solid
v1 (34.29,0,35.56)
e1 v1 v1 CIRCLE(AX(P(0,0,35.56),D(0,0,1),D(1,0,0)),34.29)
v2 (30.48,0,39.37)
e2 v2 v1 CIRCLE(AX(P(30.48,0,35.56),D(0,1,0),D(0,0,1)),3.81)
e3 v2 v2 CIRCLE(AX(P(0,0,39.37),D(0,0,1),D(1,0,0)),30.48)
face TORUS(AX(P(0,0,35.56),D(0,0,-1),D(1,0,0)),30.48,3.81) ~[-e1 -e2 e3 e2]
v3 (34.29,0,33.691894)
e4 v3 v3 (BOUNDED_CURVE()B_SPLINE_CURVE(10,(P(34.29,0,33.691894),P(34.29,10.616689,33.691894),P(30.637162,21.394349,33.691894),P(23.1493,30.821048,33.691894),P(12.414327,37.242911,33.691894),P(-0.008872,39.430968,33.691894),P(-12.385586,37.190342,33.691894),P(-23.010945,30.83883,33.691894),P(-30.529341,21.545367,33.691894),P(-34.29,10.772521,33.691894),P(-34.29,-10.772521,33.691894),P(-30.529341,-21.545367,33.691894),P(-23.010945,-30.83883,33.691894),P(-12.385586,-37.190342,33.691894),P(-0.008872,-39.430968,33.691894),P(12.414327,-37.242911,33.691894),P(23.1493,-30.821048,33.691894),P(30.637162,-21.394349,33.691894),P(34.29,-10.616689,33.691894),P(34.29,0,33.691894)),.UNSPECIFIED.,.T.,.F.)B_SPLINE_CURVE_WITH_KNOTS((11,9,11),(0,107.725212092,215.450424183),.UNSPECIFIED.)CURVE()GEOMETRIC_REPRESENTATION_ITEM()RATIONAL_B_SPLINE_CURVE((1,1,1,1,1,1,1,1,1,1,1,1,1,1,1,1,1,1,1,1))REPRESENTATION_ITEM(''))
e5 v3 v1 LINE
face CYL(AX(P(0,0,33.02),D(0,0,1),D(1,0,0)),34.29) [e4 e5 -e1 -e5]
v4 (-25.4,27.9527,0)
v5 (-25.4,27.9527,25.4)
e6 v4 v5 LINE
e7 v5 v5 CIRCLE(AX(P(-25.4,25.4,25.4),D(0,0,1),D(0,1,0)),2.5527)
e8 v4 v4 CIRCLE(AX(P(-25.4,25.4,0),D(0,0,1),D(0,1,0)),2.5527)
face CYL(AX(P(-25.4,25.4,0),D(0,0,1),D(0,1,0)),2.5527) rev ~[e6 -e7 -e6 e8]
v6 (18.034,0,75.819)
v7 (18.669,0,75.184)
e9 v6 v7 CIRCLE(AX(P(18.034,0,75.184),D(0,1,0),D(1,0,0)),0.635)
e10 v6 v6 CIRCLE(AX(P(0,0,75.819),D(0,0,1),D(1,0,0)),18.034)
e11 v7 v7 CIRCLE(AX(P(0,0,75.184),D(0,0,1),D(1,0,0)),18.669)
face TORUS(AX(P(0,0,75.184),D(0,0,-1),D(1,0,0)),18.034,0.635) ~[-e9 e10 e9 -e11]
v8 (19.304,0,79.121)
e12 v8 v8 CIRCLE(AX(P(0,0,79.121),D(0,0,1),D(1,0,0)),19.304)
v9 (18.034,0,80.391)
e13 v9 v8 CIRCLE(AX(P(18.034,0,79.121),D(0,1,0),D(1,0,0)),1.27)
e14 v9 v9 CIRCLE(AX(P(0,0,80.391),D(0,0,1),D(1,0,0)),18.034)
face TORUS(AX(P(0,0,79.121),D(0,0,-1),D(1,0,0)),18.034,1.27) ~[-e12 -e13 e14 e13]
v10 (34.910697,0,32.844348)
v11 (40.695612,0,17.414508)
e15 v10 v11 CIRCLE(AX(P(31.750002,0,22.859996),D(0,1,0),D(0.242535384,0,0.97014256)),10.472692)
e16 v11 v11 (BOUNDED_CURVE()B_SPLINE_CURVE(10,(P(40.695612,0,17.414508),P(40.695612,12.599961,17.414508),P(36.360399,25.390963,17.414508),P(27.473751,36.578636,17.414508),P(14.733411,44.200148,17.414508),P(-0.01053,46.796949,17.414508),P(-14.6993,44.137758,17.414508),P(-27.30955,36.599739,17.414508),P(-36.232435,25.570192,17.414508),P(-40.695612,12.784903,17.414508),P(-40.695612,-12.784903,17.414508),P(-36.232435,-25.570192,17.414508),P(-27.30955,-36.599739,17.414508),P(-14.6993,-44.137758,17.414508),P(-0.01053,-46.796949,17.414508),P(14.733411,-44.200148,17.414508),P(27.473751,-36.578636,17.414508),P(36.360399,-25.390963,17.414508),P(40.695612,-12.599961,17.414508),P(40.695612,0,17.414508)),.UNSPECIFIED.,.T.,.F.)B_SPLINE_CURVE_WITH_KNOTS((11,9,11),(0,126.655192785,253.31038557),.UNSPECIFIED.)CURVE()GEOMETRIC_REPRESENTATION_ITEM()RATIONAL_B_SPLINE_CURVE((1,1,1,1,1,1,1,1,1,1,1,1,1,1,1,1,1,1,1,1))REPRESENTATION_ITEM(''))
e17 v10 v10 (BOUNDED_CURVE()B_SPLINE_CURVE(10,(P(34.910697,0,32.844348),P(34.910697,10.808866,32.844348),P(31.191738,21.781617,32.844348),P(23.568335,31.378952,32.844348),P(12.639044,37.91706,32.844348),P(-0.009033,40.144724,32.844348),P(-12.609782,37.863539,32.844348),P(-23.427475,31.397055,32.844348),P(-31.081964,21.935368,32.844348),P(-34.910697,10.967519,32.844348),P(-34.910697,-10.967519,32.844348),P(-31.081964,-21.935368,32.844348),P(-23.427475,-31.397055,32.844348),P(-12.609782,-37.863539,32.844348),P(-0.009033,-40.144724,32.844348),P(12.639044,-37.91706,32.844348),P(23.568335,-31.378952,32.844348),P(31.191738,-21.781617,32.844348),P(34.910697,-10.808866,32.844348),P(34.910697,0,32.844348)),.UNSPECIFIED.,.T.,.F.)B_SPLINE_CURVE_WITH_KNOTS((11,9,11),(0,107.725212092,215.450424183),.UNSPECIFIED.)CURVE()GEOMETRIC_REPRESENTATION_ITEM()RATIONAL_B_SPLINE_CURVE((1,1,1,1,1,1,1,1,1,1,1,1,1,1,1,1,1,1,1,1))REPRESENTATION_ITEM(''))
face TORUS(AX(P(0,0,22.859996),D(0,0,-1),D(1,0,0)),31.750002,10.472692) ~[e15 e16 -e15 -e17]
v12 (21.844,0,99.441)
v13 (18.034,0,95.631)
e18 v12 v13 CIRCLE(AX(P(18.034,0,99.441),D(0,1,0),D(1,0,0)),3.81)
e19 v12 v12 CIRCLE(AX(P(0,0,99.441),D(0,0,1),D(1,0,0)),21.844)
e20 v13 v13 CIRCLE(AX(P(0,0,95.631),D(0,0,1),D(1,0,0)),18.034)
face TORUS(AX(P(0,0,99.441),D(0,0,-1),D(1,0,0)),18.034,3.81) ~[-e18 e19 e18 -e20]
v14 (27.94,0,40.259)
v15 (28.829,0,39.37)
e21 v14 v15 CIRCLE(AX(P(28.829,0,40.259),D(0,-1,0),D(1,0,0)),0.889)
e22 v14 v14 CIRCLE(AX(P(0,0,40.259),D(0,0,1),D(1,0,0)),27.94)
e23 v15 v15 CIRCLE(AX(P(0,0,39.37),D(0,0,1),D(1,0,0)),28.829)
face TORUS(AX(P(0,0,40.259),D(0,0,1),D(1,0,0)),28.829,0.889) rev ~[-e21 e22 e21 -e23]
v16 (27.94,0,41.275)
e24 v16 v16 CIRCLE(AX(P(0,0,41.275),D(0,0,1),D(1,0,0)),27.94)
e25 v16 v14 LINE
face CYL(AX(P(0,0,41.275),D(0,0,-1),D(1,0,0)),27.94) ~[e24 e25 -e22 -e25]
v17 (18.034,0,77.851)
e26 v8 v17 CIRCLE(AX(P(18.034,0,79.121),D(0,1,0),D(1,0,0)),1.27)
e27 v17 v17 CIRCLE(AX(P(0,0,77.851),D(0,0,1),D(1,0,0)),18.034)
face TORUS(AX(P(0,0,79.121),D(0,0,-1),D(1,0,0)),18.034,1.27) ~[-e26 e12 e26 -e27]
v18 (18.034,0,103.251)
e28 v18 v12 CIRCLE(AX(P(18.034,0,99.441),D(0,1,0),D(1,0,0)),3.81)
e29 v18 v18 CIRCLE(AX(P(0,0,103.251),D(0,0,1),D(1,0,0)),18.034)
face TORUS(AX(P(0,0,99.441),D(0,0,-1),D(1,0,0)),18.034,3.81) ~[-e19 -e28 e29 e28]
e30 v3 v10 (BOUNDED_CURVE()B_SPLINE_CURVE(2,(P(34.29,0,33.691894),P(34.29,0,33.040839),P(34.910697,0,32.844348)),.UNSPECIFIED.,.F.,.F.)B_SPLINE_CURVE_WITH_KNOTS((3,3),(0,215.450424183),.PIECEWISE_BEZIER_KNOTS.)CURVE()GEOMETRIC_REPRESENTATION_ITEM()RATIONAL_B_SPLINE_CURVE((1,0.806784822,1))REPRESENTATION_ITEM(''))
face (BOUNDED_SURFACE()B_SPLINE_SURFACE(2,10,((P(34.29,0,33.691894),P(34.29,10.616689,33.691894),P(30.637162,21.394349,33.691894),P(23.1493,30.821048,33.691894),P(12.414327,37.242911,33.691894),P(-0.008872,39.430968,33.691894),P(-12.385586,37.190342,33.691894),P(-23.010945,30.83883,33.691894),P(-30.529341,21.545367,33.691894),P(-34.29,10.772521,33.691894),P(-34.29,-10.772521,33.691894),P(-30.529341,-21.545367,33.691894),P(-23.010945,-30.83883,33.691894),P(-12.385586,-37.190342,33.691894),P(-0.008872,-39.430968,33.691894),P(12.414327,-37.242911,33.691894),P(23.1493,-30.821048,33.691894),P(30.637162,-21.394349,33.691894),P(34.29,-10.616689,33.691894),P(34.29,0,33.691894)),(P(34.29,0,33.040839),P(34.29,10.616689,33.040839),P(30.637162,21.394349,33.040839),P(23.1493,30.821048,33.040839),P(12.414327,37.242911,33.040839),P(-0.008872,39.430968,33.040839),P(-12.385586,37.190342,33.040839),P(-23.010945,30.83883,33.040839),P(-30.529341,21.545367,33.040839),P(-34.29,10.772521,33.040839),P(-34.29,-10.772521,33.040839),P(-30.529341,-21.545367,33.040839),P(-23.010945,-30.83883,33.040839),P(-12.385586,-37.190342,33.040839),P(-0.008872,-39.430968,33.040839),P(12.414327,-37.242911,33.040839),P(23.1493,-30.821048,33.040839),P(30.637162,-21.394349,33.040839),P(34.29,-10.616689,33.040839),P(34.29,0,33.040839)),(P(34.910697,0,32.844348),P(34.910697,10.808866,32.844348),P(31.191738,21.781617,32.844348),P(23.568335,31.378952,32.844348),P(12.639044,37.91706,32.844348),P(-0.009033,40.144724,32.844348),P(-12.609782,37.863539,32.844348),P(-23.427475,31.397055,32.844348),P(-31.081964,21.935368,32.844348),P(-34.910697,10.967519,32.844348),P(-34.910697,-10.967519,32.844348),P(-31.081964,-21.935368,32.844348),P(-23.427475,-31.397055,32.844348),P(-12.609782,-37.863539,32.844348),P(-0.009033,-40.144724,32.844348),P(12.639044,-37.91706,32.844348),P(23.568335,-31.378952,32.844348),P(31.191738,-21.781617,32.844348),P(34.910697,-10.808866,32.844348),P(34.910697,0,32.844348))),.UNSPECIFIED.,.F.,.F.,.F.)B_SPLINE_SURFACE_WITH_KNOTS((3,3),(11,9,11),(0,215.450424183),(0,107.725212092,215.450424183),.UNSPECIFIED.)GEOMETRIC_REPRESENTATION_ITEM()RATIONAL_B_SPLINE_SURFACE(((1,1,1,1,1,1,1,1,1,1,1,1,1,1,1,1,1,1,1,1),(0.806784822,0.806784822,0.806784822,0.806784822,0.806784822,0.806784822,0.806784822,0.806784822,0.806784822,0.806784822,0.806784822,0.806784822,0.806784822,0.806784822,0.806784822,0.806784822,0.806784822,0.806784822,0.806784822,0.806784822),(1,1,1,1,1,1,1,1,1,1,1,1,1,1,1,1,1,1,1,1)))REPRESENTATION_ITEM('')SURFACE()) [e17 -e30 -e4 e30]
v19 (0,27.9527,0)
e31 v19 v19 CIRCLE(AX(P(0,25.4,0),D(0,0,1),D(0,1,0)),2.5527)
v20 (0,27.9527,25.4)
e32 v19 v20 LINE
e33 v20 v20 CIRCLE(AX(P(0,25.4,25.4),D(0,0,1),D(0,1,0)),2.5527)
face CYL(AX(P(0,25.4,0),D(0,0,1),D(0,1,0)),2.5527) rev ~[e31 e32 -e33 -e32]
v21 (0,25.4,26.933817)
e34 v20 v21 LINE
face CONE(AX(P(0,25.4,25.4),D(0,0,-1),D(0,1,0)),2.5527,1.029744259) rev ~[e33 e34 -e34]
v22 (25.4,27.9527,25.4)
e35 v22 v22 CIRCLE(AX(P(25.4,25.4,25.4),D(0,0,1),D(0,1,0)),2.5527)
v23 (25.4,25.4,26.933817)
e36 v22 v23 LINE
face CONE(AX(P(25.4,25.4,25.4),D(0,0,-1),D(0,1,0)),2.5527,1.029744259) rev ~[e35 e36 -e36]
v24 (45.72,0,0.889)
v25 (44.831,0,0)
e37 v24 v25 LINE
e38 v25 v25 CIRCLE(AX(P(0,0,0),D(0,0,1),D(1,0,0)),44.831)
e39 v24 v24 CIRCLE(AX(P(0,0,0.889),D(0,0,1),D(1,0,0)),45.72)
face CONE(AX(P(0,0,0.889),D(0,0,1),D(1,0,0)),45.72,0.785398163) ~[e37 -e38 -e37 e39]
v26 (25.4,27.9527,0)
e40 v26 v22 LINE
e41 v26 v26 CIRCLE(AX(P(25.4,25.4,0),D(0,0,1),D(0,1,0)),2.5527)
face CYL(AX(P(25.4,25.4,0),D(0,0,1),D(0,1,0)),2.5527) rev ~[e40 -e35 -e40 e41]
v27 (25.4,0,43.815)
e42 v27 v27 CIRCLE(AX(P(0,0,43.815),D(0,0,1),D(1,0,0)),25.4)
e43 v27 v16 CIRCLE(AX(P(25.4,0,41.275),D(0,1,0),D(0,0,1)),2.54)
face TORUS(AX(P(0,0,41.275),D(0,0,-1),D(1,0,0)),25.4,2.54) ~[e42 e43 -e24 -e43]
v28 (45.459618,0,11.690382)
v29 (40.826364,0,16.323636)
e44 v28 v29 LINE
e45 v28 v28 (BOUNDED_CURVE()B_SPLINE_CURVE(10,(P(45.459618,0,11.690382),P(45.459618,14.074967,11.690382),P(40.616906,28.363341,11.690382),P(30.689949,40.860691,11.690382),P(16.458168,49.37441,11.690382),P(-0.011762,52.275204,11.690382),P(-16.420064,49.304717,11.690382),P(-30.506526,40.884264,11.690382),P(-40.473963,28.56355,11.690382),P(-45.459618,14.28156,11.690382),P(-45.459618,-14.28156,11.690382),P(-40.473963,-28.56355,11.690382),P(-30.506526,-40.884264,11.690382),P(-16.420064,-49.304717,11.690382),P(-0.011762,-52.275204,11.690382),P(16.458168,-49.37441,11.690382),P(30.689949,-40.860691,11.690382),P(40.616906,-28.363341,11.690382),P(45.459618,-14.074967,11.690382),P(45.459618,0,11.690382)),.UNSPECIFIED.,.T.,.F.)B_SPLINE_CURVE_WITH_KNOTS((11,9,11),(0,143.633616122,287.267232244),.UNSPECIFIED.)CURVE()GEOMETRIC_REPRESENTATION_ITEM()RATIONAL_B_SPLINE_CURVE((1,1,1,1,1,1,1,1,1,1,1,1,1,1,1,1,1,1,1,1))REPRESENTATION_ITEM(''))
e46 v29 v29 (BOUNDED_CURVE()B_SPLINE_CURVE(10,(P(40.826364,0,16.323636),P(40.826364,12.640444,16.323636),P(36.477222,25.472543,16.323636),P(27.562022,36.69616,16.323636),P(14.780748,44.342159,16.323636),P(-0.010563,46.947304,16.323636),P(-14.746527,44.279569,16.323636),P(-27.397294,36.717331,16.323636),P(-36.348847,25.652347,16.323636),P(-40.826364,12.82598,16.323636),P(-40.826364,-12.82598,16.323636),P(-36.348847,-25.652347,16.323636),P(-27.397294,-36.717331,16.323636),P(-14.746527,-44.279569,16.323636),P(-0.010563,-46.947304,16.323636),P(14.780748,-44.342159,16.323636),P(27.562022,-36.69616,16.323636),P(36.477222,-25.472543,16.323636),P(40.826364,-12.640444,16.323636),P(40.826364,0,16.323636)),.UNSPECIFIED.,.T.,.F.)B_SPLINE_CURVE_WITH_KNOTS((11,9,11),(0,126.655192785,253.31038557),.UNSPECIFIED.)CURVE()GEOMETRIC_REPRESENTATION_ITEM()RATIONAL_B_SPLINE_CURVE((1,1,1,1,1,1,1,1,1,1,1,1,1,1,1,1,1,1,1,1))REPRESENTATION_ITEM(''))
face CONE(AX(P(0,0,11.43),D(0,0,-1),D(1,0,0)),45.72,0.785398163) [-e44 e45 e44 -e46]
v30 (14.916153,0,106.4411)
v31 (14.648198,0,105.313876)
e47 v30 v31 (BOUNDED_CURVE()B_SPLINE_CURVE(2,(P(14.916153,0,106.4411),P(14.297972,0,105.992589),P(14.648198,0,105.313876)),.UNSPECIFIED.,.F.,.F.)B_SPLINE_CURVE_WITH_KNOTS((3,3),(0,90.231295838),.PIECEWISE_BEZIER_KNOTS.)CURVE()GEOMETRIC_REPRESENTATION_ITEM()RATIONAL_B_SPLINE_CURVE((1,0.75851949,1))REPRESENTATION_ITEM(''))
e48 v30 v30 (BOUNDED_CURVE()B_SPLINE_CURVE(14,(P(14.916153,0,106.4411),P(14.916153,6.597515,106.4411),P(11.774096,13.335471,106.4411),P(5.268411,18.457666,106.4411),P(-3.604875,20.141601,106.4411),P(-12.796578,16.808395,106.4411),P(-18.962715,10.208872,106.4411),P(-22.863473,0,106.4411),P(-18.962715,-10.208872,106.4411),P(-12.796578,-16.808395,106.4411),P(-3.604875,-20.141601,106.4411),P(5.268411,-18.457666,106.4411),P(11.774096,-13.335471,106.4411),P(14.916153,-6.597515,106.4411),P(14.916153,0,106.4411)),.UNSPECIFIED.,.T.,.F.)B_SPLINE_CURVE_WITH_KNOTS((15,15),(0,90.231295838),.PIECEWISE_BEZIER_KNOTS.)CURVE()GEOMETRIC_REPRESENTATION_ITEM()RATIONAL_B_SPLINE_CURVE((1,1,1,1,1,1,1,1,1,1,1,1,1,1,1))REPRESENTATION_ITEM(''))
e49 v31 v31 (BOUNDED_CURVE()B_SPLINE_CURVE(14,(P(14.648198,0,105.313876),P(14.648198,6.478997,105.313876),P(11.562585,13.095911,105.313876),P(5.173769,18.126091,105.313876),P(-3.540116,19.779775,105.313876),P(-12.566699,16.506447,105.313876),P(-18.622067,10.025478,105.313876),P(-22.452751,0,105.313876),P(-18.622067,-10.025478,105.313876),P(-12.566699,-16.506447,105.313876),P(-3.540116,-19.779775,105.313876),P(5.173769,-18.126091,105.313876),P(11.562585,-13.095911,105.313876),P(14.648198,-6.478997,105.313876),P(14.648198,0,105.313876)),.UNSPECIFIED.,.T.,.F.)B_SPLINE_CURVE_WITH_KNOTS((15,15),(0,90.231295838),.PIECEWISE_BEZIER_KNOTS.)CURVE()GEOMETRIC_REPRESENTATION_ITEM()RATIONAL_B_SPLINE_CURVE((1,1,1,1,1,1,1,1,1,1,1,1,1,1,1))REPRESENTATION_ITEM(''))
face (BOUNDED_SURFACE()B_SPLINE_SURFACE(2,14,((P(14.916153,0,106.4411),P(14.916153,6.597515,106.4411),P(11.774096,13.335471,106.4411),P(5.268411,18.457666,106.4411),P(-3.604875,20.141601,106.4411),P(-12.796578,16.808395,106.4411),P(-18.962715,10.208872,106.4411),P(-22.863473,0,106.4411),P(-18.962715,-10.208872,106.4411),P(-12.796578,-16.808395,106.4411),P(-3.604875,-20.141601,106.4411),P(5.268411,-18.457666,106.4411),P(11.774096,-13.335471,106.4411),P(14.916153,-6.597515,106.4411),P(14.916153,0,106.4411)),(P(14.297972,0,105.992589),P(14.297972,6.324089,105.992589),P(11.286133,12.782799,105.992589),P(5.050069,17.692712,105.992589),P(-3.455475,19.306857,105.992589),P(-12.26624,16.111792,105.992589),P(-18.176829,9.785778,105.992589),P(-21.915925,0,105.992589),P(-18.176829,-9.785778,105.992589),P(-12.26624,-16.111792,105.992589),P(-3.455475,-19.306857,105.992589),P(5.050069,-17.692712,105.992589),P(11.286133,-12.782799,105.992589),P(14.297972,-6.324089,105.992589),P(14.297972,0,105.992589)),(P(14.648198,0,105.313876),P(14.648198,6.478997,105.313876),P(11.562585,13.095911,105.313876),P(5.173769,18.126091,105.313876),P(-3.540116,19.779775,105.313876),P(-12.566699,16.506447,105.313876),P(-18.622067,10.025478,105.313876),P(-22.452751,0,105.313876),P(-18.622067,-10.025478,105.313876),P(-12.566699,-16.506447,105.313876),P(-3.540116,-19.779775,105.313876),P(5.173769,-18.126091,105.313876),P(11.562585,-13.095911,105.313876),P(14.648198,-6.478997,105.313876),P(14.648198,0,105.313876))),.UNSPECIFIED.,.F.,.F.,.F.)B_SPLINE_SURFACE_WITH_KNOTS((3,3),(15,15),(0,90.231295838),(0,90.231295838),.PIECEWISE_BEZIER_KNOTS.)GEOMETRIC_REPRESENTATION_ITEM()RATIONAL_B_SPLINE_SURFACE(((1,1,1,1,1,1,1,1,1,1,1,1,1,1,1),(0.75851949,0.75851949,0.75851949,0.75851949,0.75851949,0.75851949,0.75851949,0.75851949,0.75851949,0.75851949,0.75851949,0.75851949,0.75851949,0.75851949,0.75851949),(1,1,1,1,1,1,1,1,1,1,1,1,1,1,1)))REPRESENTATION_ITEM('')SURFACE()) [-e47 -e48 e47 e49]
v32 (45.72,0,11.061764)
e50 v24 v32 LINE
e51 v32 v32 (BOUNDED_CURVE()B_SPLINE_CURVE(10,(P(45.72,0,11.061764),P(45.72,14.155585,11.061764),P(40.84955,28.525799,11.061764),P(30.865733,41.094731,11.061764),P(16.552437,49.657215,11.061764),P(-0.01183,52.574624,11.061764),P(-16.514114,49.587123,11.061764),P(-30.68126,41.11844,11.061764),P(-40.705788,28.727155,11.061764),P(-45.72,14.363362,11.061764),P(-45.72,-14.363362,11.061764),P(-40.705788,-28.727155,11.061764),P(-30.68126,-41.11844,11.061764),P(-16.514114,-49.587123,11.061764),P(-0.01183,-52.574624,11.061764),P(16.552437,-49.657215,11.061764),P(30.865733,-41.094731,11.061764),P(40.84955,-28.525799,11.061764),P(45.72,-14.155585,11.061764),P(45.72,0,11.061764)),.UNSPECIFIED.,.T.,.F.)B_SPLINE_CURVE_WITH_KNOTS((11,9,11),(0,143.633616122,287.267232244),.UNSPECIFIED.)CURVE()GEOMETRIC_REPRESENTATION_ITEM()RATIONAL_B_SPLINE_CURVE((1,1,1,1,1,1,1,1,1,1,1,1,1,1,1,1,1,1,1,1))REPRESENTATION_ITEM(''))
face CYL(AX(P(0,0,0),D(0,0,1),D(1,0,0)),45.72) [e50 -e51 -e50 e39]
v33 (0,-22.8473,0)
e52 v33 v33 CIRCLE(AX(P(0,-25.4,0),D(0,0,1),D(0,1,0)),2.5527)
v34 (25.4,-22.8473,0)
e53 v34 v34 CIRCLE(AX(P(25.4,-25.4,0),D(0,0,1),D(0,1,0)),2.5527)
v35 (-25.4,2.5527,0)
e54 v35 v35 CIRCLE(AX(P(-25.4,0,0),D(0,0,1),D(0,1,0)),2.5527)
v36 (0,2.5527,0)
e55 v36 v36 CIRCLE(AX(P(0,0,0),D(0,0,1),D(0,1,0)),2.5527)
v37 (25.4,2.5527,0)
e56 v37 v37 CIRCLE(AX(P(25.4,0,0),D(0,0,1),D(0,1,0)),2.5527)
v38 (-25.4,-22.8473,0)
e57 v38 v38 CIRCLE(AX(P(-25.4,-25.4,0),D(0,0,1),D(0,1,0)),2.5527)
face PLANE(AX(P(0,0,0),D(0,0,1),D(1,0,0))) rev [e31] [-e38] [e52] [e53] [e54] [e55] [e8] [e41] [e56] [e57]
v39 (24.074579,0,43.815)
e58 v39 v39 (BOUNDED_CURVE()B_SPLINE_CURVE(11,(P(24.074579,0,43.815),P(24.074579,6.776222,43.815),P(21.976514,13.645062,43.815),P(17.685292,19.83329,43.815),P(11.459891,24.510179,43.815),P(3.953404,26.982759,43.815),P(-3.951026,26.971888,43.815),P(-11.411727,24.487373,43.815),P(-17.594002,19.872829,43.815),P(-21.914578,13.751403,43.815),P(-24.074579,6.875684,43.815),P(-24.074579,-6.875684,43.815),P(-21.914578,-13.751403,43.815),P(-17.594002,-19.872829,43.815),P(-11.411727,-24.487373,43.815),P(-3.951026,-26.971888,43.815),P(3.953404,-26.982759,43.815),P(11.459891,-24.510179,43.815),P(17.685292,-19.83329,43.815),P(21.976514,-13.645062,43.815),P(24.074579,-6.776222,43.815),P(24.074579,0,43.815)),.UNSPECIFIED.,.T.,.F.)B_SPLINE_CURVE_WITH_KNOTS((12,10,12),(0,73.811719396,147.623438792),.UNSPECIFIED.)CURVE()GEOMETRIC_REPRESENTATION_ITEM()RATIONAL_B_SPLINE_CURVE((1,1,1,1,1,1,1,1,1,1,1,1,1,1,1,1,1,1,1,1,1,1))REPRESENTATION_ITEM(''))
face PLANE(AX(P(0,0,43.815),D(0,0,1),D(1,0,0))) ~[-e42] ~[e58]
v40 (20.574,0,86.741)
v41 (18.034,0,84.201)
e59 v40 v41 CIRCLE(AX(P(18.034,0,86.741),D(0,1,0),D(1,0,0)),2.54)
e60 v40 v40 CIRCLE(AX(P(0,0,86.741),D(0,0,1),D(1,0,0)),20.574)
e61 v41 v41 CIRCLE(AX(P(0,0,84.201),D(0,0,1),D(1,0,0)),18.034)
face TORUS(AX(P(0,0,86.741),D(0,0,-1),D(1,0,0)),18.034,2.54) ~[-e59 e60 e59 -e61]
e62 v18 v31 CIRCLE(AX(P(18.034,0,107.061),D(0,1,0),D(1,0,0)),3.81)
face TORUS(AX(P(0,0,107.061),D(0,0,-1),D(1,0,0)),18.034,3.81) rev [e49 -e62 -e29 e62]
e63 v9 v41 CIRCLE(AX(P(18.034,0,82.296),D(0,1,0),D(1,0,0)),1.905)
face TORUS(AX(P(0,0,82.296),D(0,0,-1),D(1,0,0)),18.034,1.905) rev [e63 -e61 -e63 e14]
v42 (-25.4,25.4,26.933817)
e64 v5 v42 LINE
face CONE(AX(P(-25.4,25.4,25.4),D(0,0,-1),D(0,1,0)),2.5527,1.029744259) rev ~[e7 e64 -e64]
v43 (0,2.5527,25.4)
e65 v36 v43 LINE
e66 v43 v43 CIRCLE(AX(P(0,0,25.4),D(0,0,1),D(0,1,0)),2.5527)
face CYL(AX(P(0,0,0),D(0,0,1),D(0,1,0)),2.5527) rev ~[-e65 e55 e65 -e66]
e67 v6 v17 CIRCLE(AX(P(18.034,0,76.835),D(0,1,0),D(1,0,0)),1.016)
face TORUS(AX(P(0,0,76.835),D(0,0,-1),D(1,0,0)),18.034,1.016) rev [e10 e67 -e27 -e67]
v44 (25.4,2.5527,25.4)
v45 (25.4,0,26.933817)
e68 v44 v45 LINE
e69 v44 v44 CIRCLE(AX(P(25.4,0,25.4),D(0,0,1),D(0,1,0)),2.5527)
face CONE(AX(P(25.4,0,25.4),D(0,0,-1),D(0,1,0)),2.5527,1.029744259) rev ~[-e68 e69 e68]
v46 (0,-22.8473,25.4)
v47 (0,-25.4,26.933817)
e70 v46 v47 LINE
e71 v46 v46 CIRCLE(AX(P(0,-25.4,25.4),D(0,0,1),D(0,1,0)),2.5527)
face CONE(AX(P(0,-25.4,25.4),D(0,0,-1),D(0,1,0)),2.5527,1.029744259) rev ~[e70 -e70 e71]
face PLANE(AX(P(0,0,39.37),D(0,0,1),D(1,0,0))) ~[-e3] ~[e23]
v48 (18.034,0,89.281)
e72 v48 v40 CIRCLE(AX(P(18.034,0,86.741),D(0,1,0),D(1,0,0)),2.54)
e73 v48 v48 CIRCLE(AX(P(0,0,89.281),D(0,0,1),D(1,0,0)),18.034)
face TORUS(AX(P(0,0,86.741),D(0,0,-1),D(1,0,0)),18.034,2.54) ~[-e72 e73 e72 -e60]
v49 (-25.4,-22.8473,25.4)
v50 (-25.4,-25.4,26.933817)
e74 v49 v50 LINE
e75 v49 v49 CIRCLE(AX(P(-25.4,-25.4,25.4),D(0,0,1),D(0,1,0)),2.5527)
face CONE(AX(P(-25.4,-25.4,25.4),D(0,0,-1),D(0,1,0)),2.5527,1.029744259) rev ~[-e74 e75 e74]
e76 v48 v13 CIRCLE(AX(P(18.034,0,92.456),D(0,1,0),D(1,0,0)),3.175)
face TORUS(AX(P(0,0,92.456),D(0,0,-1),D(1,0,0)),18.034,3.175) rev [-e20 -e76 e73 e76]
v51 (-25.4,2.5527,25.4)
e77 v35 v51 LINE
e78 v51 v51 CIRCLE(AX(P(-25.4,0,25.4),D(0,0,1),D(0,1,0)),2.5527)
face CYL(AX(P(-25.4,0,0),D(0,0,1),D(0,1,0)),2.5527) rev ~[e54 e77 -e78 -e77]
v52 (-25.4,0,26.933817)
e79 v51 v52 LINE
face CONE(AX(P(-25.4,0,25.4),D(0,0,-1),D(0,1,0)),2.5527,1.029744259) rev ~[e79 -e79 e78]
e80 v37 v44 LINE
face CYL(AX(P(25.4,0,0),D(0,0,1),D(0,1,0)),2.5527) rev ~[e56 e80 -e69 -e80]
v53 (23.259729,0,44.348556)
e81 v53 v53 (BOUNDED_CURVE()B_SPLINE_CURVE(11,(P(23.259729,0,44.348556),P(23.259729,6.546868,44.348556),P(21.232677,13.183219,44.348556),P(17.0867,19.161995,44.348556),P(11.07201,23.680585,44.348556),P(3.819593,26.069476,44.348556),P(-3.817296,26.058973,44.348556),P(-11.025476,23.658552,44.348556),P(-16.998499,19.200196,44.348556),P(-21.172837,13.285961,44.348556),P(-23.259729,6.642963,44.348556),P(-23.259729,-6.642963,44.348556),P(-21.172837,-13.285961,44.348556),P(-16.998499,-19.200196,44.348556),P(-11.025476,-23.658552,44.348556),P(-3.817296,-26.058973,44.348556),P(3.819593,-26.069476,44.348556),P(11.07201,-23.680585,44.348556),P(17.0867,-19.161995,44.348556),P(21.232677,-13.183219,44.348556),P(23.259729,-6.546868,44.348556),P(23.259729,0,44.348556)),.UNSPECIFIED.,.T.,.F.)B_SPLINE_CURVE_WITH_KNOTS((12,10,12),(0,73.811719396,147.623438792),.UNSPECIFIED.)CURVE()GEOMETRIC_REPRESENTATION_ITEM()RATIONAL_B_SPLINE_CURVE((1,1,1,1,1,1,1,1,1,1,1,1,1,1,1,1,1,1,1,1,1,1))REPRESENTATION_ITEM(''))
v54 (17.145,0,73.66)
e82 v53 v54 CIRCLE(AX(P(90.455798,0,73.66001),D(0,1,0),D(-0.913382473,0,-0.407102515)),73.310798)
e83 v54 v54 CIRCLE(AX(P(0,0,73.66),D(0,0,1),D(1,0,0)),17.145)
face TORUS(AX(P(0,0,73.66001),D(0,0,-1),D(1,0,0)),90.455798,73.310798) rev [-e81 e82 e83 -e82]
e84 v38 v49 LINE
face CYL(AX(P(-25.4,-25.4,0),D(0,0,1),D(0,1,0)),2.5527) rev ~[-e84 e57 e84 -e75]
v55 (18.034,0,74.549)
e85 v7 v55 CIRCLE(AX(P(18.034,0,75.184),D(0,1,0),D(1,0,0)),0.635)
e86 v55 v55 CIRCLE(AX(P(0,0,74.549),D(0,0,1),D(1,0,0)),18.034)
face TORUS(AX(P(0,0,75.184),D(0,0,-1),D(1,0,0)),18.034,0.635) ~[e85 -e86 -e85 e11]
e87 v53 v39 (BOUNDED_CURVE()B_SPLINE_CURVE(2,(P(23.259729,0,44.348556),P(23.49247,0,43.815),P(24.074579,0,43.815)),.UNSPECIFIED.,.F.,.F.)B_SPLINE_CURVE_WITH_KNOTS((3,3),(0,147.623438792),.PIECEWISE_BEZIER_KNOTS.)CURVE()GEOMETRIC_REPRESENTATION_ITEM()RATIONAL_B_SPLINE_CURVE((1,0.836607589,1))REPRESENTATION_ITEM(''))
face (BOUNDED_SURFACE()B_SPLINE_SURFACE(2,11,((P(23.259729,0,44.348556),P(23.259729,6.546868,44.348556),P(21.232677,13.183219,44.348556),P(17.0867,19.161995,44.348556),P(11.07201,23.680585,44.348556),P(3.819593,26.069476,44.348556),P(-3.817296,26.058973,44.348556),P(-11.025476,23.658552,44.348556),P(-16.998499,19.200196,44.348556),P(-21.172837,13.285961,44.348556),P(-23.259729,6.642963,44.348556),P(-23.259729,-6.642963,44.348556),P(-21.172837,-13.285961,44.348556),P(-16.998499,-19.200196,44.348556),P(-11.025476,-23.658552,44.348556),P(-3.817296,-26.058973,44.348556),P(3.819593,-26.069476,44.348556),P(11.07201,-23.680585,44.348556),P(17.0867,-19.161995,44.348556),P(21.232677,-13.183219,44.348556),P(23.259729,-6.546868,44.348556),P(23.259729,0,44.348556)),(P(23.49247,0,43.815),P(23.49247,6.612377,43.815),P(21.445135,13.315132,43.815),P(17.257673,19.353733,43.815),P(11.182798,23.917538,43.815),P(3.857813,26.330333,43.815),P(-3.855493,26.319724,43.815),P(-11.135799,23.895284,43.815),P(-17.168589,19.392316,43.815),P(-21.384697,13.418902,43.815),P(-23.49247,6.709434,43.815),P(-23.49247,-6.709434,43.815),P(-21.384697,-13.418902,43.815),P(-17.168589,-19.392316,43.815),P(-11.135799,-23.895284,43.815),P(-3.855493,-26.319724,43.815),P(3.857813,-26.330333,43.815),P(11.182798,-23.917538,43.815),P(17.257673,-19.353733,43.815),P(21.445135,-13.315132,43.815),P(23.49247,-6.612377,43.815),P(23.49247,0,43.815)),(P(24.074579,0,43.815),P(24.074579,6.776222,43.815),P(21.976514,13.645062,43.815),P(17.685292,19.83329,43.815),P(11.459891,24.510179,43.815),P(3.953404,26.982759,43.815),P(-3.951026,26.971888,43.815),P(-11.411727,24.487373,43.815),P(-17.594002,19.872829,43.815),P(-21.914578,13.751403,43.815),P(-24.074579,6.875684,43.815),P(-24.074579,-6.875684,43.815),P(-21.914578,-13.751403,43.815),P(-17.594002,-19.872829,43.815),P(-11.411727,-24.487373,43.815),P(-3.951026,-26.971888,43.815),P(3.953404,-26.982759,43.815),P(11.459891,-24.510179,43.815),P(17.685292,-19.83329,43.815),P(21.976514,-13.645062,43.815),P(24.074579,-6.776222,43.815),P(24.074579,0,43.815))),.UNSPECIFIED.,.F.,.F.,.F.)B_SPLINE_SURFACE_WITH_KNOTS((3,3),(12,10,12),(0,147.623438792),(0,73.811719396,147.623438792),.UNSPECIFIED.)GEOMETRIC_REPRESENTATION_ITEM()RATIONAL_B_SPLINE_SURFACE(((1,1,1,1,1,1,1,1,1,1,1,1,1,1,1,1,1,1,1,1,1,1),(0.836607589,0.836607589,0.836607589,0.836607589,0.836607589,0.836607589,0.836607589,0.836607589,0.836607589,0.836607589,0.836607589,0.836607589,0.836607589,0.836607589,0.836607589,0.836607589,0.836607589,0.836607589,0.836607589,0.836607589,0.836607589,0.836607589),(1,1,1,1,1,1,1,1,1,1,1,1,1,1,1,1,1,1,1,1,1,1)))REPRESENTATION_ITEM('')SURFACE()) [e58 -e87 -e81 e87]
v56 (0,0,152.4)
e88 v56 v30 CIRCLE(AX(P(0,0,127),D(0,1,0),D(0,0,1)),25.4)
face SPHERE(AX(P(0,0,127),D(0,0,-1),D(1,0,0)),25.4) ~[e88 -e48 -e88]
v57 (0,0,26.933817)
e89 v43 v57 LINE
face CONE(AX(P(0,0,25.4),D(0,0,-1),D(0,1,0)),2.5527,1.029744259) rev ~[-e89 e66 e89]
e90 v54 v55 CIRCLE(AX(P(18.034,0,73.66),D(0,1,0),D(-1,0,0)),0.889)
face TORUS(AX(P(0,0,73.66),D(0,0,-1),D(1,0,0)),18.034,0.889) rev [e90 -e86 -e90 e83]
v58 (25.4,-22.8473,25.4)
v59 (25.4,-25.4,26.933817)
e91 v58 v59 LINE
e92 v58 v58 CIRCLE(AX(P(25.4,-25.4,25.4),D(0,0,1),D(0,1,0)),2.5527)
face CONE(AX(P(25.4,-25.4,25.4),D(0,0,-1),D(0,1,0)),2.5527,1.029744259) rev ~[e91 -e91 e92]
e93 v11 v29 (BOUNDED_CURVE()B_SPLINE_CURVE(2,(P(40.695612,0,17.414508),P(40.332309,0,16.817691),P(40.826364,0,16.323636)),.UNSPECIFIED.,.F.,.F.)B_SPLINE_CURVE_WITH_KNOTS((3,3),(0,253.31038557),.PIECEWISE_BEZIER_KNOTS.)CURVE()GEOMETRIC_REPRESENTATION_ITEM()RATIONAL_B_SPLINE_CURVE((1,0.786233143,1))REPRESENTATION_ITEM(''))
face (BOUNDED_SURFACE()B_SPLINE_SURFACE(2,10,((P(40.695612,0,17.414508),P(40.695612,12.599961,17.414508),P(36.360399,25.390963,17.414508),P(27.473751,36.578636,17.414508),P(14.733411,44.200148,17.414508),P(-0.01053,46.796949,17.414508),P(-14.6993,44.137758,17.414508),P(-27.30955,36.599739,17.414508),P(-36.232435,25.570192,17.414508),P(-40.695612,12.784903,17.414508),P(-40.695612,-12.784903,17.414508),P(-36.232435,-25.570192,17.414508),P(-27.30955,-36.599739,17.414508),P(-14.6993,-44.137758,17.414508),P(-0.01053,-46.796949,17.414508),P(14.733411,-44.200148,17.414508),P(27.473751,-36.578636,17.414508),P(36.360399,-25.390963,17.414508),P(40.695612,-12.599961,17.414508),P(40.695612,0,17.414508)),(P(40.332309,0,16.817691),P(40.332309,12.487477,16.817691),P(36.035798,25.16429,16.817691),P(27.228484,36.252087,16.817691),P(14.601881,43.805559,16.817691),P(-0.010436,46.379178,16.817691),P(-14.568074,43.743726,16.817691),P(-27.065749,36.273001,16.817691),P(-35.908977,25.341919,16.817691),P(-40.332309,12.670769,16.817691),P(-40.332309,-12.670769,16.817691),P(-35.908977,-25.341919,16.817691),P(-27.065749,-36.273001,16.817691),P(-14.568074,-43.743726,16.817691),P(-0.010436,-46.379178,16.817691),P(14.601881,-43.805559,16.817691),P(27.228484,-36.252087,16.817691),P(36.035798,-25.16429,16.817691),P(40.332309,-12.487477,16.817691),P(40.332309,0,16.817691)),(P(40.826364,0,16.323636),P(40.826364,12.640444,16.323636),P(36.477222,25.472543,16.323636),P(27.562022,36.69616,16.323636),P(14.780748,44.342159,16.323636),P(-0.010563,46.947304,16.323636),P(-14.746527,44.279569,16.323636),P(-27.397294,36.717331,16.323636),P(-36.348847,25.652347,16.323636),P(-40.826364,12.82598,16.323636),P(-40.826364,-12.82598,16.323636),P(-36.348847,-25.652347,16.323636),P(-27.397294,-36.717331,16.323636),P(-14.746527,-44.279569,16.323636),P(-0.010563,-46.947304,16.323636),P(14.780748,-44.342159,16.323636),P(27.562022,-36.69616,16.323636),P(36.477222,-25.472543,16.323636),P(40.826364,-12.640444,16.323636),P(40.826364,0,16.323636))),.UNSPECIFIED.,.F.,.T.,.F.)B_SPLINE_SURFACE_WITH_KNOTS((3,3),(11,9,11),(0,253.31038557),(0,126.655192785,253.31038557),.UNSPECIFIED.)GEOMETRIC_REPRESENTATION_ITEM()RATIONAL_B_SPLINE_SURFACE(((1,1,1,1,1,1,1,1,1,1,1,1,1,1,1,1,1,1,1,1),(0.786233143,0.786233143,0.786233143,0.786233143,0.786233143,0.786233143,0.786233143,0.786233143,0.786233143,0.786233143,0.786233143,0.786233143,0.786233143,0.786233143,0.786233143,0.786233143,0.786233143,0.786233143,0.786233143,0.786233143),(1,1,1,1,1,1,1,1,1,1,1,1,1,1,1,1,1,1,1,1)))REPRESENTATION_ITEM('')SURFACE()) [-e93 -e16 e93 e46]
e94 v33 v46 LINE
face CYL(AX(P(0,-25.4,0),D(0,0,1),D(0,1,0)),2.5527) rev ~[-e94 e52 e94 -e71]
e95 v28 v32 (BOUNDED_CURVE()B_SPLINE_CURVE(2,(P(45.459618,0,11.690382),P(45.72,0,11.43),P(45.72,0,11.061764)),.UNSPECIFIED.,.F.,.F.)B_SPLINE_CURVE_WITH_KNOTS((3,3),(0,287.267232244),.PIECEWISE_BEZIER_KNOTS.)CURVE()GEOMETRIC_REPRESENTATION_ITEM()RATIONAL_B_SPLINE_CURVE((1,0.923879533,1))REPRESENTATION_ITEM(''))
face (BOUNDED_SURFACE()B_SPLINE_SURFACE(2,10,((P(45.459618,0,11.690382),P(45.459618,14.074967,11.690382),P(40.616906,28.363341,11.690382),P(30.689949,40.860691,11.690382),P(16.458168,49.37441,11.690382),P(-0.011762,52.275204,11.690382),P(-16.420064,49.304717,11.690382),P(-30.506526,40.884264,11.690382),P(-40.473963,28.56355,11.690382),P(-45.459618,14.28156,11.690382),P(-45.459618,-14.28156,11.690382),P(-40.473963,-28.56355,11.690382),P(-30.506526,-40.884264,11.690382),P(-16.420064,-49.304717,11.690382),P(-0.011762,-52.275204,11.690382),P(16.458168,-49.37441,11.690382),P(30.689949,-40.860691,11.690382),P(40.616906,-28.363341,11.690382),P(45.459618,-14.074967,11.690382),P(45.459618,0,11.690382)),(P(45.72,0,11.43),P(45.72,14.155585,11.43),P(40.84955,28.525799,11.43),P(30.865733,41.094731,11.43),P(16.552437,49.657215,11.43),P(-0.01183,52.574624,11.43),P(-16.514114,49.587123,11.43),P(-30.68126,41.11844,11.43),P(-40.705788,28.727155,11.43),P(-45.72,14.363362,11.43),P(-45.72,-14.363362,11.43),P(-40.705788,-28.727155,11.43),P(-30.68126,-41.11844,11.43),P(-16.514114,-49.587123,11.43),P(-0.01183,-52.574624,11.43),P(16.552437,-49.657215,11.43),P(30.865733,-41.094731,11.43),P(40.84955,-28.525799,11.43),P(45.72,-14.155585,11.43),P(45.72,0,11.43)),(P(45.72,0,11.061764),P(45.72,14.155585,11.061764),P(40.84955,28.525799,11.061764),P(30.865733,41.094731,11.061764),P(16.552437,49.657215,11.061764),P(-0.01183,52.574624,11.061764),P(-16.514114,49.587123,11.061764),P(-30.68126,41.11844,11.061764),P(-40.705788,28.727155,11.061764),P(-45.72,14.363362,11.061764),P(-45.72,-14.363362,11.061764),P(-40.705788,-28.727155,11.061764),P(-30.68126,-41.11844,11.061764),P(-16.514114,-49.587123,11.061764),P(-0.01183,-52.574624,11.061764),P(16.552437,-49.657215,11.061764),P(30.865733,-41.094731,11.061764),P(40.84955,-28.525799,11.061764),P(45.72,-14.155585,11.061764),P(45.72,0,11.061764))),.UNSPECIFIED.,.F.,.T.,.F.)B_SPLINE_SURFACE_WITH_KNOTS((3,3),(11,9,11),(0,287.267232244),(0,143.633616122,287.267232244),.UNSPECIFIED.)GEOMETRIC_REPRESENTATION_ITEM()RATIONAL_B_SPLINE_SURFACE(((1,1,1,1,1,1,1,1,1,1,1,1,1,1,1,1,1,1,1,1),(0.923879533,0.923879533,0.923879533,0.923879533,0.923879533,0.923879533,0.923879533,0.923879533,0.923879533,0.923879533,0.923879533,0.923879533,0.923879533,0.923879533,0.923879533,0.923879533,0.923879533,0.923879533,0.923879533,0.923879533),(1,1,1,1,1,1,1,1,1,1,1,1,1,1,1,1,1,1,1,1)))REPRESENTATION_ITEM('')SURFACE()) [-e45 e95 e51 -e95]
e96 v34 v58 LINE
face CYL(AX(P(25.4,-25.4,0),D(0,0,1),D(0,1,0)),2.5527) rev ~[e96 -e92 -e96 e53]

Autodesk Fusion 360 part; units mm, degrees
sketch "Sketch2" plane through (0, 0, 0) normal (0, 1, 0) x (1, 0, 0)
  line L0 (0, 0) -> (45.72, 0)
  line L1 (45.72, 0) -> (45.72, -11.43)
  line L2 (45.72, -11.43) -> (40.3156, -16.8344)
  arc A0 (34.29, -33.02) -> (40.3156, -16.8344) centre (31.75, -22.86) ccw
  arc A1 (23.495, -43.815) -> (17.145, -73.66) centre (90.4558, -73.66) ccw
  line L3 (18.034, -72.39) -> (18.034, -124.46)
  circle A2 centre (18.034, -79.121) radius 1.27
  circle A3 centre (18.034, -76.835) radius 1.016
  circle A4 centre (18.034, -82.296) radius 1.905
  circle A5 centre (18.034, -86.741) radius 2.54
  circle A6 centre (18.034, -92.456) radius 3.175
  circle A7 centre (18.034, -99.441) radius 3.81
  circle A8 centre (18.034, -107.061) radius 3.81
  line L4 (0, 0) -> (0, -177.8)
  circle A9 centre (0, -127) radius 25.4
  line L5 (34.29, -33.02) -> (34.29, -35.56)
  arc A10 (30.48, -39.37) -> (34.29, -35.56) centre (30.48, -35.56) ccw
  line L6 (27.94, -39.37) -> (30.48, -39.37)
  line L7 (27.94, -41.275) -> (27.94, -39.37)
  arc A11 (25.4, -43.815) -> (27.94, -41.275) centre (25.4, -41.275) ccw
  line L8 (23.495, -43.815) -> (25.4, -43.815)
  circle A12 centre (18.034, -75.184) radius 0.635
  arc A13 (17.145, -73.66) -> (18.034, -74.549) centre (18.034, -73.66) ccw
  line L9 (17.145, -73.66) -> (17.145, -74.295) construction
  point P0 (18.034, -74.549)
  dimension "d5" = 135
  dimension "d6" = 45.72
  dimension "d7" = 11.43
  dimension "d10" = 34.29
  dimension "d11" = 33.02
  dimension "d12" = 31.75
  dimension "d13" = 22.86
  dimension "d18" = 2.54
  dimension "d19" = 2.032
  dimension "d20" = 3.81
  dimension "d21" = 5.08
  dimension "d22" = 6.35
  dimension "d23" = 7.62
  dimension "d24" = 2.286
  dimension "d25" = 3.175
  dimension "d26" = 4.445
  dimension "d27" = 5.715
  dimension "d28" = 6.985
  dimension "d29" = 7.62
  dimension "d30" = 7.62
  dimension "d31" = 50.8
  dimension "d32" = 127
  dimension "d35" = 2.54
  dimension "d36" = 1.905
  dimension "d37" = 2.54
  dimension "d38" = 1.905
  dimension "d39" = 3.81
  dimension "d40" = 2.54
  dimension "d42" = 1.27
  dimension "d43" = 1.651
  dimension "d44" = 17.145
  dimension "d45" = 73.66
  dimension "d51" = 0.889
revolve "Revolve2" add sketch "Sketch2" angle 360 about axis through (0, 0, 0) along (0, 0, 1) contours L0 L1 L2 A0 A1 A2 A3 A4 A5 A6 A7 A8 L4 A9 L5 A10 L6 L7 A11 L8 A12 A13 | A8 L4 A9 | L3 A8 A9 | L3 A7 | L3 A7 | L3 A8 A9 | L3 A5 | L3 A5 | L3 A2 | L3 A2 | L3 A12 | L3 A12 picked at (16.9665, -109.1352) picked at (18.1911, -109.8619)
fillet "Fillet1" radius 0.889 6 edges at (-37.5873, -14.5787, 16.8344) (-31.9695, -12.3998, 33.02) (-26.0492, -10.1035, 39.37) (-21.905, -8.4962, 43.815) (-13.3889, -5.1931, 106.0494) (-42.626, -16.5331, 11.43)
chamfer "Chamfer1" distance 0.889 angle 45 1 edges at (-42.626, -16.5331, 0)
hole "Hole1" at (0, 0, 0) direction (0, 0, 1) diameter 5.1054 depth 25.4 tip angle 118
thread "Thread2" "ANSI Unified Screw Threads 0.25 1/4-20 UNC 3B"
pattern_linear "R-Pattern1" count 3 spacing 25.4 along (1, 0, 0) both ways count 3 spacing 25.4 along (0, 1, 0) both ways of "Hole1"
equation "Fillet = 0.035 in"
equation "d49 = Fillet"
equation "d50 = Chamfer"
equation "d51 = Fillet"
equation "Chamfer = 0.035 in"
